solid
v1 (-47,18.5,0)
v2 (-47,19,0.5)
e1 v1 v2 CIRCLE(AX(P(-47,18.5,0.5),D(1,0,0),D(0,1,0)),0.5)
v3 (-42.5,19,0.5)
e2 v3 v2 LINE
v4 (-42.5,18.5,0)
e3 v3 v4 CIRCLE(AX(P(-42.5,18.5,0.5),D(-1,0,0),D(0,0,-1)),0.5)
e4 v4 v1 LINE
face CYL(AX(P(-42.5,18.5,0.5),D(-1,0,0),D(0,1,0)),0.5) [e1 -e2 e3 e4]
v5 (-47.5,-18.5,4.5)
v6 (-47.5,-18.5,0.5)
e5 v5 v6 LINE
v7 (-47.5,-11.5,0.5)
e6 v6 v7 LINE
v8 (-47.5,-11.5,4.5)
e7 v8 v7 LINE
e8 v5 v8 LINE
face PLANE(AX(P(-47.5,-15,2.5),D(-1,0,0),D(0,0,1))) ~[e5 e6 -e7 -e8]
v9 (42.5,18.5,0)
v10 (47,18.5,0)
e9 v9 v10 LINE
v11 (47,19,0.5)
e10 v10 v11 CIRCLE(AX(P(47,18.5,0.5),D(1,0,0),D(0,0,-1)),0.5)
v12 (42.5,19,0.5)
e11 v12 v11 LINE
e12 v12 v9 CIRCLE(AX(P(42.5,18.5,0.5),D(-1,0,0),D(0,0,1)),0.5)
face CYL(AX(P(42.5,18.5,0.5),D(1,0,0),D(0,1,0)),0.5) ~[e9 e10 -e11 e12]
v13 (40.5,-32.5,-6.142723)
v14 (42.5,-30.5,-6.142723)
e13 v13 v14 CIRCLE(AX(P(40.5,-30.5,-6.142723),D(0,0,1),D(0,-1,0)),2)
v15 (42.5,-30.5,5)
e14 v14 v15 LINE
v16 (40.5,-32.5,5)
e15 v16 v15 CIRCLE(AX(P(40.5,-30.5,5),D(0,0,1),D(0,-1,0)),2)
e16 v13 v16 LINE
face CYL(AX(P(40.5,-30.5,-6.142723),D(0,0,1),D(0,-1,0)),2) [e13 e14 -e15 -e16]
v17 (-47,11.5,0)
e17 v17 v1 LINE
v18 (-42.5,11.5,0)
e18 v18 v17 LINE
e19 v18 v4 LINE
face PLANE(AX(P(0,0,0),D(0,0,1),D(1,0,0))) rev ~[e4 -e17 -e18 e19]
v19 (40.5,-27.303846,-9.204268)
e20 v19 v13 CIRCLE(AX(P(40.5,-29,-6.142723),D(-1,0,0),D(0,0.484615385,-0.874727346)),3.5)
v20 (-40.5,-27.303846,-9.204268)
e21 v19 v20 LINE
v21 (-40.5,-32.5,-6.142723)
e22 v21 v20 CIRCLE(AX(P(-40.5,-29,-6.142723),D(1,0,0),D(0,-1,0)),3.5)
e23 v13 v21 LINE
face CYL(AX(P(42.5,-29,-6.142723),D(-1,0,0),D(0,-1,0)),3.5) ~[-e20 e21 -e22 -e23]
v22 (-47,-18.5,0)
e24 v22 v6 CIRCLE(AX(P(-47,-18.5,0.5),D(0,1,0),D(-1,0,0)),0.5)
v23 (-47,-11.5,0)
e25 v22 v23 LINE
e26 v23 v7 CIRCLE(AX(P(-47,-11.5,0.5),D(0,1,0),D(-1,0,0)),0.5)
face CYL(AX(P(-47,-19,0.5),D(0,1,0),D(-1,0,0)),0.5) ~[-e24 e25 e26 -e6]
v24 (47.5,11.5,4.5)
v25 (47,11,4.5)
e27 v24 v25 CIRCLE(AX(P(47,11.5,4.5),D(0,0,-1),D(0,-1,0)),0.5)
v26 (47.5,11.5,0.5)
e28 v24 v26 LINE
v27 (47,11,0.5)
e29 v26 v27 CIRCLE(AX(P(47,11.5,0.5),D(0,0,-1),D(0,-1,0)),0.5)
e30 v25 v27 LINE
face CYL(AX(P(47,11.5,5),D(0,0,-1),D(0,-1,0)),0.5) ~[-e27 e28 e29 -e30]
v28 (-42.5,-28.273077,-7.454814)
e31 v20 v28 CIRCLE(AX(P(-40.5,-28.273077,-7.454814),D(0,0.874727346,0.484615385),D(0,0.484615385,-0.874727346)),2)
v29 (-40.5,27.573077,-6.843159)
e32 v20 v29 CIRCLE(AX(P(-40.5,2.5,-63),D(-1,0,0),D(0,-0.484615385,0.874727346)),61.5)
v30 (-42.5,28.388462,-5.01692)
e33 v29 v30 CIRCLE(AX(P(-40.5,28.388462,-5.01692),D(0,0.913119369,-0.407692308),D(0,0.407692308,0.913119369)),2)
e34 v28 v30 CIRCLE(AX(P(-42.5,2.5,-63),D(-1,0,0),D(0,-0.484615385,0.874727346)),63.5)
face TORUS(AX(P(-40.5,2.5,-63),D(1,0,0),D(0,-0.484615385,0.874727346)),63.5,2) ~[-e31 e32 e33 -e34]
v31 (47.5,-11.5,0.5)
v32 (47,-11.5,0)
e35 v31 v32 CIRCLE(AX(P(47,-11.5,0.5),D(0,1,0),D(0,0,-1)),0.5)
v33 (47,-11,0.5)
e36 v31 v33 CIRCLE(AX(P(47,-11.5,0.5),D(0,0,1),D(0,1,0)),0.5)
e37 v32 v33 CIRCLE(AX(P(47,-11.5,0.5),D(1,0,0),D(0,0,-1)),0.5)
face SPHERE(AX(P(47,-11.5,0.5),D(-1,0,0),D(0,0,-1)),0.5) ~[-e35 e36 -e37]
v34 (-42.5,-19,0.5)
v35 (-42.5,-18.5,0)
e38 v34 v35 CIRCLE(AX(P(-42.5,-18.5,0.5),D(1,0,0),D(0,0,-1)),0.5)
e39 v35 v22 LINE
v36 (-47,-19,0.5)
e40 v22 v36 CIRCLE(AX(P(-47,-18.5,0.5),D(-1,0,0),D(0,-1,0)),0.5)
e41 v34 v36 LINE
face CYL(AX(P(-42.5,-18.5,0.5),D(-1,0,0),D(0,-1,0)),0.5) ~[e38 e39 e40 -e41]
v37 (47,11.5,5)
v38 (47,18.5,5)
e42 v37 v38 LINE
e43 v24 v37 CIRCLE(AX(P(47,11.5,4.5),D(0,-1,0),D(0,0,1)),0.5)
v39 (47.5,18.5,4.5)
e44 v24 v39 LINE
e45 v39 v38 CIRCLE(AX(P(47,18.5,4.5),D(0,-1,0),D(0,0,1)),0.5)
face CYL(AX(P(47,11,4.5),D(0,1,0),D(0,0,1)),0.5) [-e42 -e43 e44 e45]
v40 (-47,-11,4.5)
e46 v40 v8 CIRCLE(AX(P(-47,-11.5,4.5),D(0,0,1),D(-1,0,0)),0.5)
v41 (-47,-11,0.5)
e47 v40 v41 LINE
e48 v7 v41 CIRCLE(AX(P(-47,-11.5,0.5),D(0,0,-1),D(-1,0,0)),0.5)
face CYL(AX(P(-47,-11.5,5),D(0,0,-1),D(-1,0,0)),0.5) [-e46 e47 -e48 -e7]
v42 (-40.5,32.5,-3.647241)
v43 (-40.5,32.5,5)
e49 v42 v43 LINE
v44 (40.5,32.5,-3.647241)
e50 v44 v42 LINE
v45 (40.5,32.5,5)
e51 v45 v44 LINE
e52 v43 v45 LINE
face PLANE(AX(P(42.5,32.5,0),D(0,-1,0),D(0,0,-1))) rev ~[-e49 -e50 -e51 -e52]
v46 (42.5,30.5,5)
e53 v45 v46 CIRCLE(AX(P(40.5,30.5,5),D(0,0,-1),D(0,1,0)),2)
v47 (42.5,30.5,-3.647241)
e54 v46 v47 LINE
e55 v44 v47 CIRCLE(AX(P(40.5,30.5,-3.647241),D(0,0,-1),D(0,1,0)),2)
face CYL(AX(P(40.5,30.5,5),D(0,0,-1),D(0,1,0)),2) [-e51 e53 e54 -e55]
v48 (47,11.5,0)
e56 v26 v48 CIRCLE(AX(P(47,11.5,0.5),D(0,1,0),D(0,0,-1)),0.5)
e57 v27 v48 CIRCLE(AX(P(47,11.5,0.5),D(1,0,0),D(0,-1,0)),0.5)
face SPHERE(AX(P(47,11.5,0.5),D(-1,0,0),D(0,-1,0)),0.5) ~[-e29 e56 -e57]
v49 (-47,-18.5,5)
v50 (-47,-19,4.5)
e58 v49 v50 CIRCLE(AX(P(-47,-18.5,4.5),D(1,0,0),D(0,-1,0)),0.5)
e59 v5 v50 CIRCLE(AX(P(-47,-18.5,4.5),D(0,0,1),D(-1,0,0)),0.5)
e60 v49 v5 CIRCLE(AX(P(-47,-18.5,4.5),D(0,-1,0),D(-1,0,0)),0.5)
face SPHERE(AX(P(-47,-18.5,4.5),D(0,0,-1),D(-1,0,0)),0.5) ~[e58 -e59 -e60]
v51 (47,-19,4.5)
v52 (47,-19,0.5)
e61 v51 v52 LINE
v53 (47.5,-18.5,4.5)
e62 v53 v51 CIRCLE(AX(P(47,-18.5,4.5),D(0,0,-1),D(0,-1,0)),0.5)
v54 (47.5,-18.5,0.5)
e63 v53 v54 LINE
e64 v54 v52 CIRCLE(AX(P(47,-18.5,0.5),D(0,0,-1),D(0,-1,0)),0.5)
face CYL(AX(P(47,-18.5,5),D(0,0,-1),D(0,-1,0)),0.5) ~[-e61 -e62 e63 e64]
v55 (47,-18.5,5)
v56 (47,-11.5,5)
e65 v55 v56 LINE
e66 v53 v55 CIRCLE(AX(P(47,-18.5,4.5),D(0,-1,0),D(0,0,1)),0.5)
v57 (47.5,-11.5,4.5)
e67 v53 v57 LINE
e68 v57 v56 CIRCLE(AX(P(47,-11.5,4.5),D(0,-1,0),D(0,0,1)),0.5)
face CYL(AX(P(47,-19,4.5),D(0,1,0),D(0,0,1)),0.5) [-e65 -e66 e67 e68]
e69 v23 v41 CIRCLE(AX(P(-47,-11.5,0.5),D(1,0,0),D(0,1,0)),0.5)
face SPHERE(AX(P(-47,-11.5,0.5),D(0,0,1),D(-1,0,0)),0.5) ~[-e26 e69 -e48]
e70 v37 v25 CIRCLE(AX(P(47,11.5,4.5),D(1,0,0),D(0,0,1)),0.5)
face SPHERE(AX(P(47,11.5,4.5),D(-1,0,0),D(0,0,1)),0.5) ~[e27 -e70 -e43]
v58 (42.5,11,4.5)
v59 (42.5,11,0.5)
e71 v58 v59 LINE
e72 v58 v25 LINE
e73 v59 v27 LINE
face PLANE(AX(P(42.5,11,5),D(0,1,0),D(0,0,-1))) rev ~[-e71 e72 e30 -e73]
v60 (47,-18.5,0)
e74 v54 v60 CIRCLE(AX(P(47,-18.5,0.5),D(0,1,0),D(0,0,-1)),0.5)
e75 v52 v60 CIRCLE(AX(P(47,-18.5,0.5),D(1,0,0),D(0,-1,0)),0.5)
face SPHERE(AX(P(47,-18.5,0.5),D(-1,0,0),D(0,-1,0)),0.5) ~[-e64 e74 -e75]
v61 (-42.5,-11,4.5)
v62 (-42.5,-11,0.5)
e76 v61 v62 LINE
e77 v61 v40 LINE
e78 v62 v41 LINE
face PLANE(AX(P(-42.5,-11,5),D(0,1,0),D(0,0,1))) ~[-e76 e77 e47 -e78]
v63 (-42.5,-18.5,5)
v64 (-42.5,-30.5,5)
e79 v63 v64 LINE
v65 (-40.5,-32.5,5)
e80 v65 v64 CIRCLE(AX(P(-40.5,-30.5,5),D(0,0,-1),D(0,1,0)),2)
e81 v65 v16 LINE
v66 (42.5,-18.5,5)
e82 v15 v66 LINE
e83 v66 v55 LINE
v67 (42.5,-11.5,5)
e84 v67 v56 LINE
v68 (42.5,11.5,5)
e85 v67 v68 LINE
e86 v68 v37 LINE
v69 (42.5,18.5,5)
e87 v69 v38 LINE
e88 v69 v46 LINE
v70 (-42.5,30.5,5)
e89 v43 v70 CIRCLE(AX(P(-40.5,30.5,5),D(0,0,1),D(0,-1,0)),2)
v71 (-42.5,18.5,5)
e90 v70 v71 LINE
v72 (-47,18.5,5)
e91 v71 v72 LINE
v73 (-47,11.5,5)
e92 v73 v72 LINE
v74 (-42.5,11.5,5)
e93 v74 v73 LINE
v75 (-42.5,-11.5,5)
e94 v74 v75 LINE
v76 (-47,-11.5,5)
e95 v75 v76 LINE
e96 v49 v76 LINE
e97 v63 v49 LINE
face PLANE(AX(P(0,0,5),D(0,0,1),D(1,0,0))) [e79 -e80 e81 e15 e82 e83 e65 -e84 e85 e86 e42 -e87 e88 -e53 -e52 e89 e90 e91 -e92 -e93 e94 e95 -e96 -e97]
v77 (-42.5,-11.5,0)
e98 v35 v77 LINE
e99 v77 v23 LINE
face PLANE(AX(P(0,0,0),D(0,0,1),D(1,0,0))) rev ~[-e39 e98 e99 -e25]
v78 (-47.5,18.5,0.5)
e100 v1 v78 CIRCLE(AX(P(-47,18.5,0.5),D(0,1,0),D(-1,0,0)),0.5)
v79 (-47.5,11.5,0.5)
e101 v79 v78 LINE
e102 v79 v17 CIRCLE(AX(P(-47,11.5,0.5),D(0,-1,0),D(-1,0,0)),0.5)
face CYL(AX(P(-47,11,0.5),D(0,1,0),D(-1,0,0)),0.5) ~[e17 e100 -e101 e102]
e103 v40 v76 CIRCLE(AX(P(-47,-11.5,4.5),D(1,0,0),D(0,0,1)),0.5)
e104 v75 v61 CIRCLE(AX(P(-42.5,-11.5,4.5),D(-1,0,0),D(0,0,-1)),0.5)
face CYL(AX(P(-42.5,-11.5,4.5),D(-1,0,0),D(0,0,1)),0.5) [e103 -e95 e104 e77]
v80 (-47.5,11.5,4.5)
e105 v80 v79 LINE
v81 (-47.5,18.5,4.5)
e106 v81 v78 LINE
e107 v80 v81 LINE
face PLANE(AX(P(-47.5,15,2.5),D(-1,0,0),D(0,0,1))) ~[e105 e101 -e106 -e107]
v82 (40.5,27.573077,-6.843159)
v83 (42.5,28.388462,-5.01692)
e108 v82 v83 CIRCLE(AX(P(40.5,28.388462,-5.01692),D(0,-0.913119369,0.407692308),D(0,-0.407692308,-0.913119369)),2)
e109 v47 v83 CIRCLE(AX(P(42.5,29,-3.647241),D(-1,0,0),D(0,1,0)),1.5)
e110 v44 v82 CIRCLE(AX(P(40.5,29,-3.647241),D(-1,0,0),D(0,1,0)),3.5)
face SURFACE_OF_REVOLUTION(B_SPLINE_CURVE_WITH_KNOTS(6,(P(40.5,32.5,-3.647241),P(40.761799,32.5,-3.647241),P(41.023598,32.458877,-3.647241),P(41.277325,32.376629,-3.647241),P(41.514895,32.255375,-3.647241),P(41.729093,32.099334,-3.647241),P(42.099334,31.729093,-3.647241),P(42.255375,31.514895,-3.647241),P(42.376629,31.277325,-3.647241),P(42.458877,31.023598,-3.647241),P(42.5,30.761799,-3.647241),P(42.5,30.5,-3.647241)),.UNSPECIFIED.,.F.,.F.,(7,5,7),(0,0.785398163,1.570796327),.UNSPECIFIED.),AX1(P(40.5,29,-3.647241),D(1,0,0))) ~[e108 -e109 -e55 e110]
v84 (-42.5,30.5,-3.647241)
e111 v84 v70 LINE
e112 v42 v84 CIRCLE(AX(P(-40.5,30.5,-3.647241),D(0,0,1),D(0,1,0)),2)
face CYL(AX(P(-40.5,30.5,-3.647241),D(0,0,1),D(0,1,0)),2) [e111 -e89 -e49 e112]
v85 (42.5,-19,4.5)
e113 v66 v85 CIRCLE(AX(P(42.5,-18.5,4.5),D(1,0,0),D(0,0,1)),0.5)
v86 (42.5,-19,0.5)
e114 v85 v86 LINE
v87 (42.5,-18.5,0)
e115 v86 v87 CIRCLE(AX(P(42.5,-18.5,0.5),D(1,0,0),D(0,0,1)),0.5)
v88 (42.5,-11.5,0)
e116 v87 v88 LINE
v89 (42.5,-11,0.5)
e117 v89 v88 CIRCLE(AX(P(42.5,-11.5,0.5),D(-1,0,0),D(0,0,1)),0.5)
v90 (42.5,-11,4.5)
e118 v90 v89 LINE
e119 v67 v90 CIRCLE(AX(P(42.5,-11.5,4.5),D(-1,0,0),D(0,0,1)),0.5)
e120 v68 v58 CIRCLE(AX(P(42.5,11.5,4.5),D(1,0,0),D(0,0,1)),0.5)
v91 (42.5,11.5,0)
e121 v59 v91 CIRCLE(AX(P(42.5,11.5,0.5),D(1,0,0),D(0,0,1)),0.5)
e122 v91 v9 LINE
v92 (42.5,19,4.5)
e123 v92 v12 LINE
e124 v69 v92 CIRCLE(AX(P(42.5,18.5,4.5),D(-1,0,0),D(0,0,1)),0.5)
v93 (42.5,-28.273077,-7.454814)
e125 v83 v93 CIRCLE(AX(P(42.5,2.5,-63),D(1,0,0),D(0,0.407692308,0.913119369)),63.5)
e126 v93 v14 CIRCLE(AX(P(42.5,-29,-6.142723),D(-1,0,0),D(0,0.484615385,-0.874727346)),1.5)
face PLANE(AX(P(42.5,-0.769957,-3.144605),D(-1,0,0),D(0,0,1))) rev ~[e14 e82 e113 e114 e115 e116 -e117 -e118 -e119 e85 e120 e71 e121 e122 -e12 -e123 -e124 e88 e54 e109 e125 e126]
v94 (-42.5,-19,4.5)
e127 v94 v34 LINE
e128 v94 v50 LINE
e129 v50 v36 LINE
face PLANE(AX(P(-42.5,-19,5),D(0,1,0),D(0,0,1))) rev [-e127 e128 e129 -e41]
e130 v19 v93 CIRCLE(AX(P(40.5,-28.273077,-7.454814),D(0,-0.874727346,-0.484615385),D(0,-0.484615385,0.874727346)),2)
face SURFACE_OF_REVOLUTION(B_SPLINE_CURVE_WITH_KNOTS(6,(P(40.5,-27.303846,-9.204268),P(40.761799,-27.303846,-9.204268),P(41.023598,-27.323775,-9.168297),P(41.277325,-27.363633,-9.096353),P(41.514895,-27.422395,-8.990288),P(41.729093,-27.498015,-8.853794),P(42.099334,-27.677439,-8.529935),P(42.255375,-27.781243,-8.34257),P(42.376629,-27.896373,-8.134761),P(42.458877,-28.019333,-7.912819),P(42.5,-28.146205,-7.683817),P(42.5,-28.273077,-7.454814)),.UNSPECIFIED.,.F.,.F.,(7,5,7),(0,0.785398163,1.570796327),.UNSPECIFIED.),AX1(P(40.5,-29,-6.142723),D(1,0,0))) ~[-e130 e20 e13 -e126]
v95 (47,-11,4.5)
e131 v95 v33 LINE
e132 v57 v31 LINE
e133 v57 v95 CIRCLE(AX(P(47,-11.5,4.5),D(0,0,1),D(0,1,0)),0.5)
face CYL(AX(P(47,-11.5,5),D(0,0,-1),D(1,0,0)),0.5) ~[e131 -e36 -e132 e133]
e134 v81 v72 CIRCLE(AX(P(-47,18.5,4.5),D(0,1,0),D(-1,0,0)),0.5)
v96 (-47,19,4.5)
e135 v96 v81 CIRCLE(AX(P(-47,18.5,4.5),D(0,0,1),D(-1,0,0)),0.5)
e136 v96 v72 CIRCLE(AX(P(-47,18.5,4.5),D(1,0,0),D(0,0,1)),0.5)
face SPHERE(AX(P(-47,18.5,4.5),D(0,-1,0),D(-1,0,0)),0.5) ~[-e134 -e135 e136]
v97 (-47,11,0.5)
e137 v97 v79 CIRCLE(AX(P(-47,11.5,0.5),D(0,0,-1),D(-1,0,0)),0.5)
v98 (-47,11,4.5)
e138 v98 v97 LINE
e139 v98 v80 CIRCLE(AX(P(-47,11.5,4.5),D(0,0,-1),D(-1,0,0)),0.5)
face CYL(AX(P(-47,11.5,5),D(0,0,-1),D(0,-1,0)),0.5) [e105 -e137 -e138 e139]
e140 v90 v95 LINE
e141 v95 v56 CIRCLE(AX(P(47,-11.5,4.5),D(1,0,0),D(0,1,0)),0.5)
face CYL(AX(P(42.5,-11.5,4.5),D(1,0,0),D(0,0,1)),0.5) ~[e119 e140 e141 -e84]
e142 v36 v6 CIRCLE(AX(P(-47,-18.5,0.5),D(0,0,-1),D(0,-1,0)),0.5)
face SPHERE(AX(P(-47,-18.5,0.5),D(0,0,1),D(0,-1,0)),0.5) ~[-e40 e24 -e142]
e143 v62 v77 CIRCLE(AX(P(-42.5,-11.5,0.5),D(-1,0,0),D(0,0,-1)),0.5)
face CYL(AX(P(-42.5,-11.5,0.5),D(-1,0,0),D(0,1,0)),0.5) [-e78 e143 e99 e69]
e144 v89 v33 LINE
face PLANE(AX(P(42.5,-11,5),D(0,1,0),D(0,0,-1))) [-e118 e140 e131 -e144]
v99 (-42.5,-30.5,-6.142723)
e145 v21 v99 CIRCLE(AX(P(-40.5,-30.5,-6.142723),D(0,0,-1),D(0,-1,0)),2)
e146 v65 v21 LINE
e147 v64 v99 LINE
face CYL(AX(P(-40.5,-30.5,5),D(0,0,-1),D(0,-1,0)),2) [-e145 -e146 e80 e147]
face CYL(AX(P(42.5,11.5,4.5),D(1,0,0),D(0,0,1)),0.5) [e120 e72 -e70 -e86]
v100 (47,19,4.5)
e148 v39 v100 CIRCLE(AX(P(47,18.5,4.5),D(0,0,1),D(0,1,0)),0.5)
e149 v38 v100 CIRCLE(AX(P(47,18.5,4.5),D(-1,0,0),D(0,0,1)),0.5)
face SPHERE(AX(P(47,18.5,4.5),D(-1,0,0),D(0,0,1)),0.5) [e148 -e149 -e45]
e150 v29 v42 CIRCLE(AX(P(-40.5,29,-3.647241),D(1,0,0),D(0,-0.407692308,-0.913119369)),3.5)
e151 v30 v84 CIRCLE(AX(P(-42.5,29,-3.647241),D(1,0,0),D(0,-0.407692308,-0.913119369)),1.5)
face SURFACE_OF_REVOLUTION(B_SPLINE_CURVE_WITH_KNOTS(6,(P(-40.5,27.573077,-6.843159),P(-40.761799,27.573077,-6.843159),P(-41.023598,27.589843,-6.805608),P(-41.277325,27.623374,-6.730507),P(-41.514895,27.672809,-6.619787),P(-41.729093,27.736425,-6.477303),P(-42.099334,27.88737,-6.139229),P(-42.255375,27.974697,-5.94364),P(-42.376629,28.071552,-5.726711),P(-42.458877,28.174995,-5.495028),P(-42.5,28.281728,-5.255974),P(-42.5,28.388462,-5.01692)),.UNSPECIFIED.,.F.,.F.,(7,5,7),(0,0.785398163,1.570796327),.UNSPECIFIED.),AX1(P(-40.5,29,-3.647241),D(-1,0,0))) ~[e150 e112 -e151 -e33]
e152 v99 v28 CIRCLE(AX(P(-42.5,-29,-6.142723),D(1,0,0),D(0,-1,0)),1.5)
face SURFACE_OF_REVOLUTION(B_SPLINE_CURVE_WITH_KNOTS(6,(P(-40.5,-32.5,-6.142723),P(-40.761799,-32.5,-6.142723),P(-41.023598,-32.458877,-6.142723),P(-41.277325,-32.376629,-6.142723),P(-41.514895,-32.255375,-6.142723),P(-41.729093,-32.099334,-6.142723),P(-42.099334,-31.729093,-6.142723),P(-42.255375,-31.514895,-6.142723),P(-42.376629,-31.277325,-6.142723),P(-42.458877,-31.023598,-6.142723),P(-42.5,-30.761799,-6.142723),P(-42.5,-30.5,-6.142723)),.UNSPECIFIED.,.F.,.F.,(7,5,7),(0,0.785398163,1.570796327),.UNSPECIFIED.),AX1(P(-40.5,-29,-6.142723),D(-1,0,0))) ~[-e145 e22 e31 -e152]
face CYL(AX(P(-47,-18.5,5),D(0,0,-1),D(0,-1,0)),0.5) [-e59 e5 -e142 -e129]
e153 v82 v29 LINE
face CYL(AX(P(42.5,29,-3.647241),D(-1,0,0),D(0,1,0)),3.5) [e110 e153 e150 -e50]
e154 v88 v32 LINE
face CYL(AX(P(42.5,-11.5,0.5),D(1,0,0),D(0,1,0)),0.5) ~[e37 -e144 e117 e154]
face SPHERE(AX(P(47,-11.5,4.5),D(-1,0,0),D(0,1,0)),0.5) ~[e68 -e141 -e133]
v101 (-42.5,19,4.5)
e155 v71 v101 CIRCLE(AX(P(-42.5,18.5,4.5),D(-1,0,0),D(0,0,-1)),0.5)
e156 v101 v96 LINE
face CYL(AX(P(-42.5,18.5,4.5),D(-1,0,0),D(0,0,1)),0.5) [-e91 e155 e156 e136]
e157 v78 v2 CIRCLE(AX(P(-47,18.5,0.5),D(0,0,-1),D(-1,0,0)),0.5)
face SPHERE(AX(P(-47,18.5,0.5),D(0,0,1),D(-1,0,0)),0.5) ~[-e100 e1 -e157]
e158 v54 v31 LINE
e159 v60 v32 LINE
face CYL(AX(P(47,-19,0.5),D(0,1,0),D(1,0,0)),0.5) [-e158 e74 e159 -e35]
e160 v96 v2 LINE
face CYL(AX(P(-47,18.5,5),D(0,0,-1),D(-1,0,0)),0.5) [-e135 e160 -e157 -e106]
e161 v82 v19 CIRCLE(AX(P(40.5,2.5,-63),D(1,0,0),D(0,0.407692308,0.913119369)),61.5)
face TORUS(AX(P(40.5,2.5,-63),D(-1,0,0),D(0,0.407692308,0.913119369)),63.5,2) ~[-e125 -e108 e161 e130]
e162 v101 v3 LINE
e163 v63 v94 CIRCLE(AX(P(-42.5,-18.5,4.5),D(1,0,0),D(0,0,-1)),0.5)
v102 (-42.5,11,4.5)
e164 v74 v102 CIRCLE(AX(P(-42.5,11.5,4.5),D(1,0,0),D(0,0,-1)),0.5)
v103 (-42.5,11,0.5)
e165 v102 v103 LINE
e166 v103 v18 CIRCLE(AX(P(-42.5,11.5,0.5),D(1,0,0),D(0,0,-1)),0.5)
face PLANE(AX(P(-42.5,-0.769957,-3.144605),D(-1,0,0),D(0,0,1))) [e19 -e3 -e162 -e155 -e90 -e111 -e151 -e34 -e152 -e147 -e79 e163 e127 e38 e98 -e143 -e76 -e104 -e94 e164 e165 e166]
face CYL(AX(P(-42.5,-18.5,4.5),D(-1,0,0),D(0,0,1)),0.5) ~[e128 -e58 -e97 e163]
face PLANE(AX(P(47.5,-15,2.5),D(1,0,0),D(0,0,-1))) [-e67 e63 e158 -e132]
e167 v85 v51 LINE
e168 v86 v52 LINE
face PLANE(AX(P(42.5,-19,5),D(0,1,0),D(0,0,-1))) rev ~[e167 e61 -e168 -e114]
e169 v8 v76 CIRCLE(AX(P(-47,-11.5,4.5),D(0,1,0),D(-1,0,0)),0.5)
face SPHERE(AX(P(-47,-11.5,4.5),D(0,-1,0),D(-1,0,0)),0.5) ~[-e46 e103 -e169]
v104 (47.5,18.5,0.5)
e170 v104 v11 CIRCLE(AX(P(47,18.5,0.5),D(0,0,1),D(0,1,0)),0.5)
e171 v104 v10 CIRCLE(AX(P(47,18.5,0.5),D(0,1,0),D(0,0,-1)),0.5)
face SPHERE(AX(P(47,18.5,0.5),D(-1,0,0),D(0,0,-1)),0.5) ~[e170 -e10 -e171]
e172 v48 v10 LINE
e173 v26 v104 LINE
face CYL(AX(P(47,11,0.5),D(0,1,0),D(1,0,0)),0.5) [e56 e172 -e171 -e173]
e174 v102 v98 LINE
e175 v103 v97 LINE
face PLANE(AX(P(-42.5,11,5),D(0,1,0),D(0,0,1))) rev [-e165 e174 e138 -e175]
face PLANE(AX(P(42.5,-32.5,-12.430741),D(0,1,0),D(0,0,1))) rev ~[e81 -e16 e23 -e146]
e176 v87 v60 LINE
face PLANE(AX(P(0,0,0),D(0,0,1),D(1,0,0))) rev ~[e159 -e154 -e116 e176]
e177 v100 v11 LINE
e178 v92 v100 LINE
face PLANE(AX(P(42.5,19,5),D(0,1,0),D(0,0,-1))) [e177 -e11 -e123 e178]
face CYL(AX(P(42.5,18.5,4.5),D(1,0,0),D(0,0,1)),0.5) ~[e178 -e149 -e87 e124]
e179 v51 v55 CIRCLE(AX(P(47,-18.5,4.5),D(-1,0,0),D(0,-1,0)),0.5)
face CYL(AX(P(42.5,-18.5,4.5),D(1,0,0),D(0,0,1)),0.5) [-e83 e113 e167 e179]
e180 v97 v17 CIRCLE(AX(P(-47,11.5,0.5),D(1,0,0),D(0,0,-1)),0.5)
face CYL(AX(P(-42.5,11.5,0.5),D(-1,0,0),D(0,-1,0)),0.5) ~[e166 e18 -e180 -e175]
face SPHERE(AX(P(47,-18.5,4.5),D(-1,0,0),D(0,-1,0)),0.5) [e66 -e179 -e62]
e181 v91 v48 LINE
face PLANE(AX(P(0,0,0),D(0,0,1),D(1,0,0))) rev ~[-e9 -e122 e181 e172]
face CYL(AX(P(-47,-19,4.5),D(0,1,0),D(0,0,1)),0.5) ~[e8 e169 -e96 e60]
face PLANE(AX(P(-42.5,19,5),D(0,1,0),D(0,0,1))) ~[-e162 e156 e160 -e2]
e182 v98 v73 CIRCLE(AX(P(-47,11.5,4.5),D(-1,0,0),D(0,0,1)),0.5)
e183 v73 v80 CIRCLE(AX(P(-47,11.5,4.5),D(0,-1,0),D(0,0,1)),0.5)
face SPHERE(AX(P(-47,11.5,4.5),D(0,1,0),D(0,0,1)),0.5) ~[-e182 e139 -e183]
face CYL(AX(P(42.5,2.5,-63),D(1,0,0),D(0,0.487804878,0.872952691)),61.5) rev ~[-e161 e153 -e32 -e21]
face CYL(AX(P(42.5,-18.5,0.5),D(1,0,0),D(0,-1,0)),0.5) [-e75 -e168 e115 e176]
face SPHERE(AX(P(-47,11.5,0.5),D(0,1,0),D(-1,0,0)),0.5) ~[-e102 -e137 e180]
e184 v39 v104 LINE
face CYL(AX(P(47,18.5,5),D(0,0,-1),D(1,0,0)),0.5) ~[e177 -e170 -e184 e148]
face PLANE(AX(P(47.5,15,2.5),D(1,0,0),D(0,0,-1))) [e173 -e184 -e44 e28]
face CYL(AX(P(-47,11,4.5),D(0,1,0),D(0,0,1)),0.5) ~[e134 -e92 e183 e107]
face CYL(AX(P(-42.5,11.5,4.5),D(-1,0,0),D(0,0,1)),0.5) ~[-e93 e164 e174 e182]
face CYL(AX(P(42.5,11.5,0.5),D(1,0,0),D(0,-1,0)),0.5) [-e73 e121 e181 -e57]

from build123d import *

# Parameters (mm, degrees)
CROQUIS1_W              = 85
CROQUIS1_H              = 65
SALIENTE_EXTRUIR1_DEPTH = 5
CROQUIS3_W              = 5
CROQUIS3_H              = 8
SALIENTE_EXTRUIR3_DEPTH = 5
SALIENTE_EXTRUIR2_DEPTH = 85
REDONDEO1_R             = 3.5
REDONDEO2_R             = 2
REDONDEO3_R             = 0.5


with BuildPart() as part:
    # Croquis1 → Saliente-Extruir1 (new body)
    with BuildSketch(Plane.XY):
        Rectangle(CROQUIS1_W, CROQUIS1_H)
    extrude(amount=SALIENTE_EXTRUIR1_DEPTH)

    # Croquis3 → Saliente-Extruir3 (add)
    with BuildSketch(Plane(origin=(42.5, 0, 0), x_dir=(0, 0, -1), z_dir=(1, 0, 0))):
        with Locations((-2.5, 15)):
            Rectangle(CROQUIS3_W, CROQUIS3_H)
        with Locations((-2.5, -15)):
            Rectangle(CROQUIS3_W, CROQUIS3_H)
    saliente_extruir3 = extrude(amount=SALIENTE_EXTRUIR3_DEPTH)

    # Simetría1: Saliente-Extruir3 across plane
    add(saliente_extruir3.mirror(Plane(origin=(0, 0, 0), x_dir=(0, 0, 1), z_dir=(1, 0, 0))))

    # Croquis2 → Saliente-Extruir2 (add)
    with BuildSketch(Plane(origin=(42.5, 0, 0), x_dir=(0, 0, -1), z_dir=(1, 0, 0))):
        with BuildLine():
            Line((0, 32.5), (9.313409495, 32.5))
            ThreePointArc((9.313409495, 32.5), (1.570605068, -0.446088635), (12.430740563, -32.5))
            Line((12.430740563, -32.5), (0, -32.5))
            Line((0, -32.5), (0, 32.5))
        make_face()
    extrude(amount=-SALIENTE_EXTRUIR2_DEPTH)

    # Redondeo1
    redondeo1_edges = [part.edges().sort_by_distance(p)[0] for p in [
        (0, 32.5, -9.313409495),
        (0, -32.5, -12.430740563),
    ]]
    fillet(redondeo1_edges, radius=REDONDEO1_R)

    # Redondeo2
    redondeo2_edges = [part.edges().sort_by_distance(p)[0] for p in [
        (-42.5, 32.5, 0.676379496),
        (42.5, 32.5, 0.676379496),
        (42.5, -32.5, -0.571361271),
        (-42.5, -32.5, -0.571361271),
        (42.5, -0.143625132, -1.556845408),
        (42.5, 30.904700663, -6.583584888),
        (42.5, -30.776719103, -9.158227347),
        (-42.5, -0.143625132, -1.556845408),
        (-42.5, 30.904700663, -6.583584888),
        (-42.5, -30.776719103, -9.158227347),
    ]]
    fillet(redondeo2_edges, radius=REDONDEO2_R)

    # Redondeo3
    redondeo3_edges = [part.edges().sort_by_distance(p)[0] for p in [
        (45, 19, 5),
        (45, 11, 5),
        (45, 11, 0),
        (45, 19, 0),
        (47.5, 15, 5),
        (47.5, 11, 2.5),
        (47.5, 15, 0),
        (47.5, 19, 2.5),
        (45, -19, 5),
        (45, -19, 0),
        (45, -11, 0),
        (45, -11, 5),
        (47.5, -19, 2.5),
        (47.5, -15, 0),
        (47.5, -11, 2.5),
        (47.5, -15, 5),
        (-47.5, 15, 5),
        (-45, 11, 5),
        (-47.5, 19, 2.5),
        (-45, 19, 5),
        (-47.5, 15, 0),
        (-45, 19, 0),
        (-47.5, 11, 2.5),
        (-45, 11, 0),
        (-47.5, -19, 2.5),
        (-45, -19, 0),
        (-47.5, -15, 5),
        (-45, -19, 5),
        (-47.5, -11, 2.5),
        (-45, -11, 5),
        (-47.5, -15, 0),
        (-45, -11, 0),
    ]]
    fillet(redondeo3_edges, radius=REDONDEO3_R)


solid = part.part
